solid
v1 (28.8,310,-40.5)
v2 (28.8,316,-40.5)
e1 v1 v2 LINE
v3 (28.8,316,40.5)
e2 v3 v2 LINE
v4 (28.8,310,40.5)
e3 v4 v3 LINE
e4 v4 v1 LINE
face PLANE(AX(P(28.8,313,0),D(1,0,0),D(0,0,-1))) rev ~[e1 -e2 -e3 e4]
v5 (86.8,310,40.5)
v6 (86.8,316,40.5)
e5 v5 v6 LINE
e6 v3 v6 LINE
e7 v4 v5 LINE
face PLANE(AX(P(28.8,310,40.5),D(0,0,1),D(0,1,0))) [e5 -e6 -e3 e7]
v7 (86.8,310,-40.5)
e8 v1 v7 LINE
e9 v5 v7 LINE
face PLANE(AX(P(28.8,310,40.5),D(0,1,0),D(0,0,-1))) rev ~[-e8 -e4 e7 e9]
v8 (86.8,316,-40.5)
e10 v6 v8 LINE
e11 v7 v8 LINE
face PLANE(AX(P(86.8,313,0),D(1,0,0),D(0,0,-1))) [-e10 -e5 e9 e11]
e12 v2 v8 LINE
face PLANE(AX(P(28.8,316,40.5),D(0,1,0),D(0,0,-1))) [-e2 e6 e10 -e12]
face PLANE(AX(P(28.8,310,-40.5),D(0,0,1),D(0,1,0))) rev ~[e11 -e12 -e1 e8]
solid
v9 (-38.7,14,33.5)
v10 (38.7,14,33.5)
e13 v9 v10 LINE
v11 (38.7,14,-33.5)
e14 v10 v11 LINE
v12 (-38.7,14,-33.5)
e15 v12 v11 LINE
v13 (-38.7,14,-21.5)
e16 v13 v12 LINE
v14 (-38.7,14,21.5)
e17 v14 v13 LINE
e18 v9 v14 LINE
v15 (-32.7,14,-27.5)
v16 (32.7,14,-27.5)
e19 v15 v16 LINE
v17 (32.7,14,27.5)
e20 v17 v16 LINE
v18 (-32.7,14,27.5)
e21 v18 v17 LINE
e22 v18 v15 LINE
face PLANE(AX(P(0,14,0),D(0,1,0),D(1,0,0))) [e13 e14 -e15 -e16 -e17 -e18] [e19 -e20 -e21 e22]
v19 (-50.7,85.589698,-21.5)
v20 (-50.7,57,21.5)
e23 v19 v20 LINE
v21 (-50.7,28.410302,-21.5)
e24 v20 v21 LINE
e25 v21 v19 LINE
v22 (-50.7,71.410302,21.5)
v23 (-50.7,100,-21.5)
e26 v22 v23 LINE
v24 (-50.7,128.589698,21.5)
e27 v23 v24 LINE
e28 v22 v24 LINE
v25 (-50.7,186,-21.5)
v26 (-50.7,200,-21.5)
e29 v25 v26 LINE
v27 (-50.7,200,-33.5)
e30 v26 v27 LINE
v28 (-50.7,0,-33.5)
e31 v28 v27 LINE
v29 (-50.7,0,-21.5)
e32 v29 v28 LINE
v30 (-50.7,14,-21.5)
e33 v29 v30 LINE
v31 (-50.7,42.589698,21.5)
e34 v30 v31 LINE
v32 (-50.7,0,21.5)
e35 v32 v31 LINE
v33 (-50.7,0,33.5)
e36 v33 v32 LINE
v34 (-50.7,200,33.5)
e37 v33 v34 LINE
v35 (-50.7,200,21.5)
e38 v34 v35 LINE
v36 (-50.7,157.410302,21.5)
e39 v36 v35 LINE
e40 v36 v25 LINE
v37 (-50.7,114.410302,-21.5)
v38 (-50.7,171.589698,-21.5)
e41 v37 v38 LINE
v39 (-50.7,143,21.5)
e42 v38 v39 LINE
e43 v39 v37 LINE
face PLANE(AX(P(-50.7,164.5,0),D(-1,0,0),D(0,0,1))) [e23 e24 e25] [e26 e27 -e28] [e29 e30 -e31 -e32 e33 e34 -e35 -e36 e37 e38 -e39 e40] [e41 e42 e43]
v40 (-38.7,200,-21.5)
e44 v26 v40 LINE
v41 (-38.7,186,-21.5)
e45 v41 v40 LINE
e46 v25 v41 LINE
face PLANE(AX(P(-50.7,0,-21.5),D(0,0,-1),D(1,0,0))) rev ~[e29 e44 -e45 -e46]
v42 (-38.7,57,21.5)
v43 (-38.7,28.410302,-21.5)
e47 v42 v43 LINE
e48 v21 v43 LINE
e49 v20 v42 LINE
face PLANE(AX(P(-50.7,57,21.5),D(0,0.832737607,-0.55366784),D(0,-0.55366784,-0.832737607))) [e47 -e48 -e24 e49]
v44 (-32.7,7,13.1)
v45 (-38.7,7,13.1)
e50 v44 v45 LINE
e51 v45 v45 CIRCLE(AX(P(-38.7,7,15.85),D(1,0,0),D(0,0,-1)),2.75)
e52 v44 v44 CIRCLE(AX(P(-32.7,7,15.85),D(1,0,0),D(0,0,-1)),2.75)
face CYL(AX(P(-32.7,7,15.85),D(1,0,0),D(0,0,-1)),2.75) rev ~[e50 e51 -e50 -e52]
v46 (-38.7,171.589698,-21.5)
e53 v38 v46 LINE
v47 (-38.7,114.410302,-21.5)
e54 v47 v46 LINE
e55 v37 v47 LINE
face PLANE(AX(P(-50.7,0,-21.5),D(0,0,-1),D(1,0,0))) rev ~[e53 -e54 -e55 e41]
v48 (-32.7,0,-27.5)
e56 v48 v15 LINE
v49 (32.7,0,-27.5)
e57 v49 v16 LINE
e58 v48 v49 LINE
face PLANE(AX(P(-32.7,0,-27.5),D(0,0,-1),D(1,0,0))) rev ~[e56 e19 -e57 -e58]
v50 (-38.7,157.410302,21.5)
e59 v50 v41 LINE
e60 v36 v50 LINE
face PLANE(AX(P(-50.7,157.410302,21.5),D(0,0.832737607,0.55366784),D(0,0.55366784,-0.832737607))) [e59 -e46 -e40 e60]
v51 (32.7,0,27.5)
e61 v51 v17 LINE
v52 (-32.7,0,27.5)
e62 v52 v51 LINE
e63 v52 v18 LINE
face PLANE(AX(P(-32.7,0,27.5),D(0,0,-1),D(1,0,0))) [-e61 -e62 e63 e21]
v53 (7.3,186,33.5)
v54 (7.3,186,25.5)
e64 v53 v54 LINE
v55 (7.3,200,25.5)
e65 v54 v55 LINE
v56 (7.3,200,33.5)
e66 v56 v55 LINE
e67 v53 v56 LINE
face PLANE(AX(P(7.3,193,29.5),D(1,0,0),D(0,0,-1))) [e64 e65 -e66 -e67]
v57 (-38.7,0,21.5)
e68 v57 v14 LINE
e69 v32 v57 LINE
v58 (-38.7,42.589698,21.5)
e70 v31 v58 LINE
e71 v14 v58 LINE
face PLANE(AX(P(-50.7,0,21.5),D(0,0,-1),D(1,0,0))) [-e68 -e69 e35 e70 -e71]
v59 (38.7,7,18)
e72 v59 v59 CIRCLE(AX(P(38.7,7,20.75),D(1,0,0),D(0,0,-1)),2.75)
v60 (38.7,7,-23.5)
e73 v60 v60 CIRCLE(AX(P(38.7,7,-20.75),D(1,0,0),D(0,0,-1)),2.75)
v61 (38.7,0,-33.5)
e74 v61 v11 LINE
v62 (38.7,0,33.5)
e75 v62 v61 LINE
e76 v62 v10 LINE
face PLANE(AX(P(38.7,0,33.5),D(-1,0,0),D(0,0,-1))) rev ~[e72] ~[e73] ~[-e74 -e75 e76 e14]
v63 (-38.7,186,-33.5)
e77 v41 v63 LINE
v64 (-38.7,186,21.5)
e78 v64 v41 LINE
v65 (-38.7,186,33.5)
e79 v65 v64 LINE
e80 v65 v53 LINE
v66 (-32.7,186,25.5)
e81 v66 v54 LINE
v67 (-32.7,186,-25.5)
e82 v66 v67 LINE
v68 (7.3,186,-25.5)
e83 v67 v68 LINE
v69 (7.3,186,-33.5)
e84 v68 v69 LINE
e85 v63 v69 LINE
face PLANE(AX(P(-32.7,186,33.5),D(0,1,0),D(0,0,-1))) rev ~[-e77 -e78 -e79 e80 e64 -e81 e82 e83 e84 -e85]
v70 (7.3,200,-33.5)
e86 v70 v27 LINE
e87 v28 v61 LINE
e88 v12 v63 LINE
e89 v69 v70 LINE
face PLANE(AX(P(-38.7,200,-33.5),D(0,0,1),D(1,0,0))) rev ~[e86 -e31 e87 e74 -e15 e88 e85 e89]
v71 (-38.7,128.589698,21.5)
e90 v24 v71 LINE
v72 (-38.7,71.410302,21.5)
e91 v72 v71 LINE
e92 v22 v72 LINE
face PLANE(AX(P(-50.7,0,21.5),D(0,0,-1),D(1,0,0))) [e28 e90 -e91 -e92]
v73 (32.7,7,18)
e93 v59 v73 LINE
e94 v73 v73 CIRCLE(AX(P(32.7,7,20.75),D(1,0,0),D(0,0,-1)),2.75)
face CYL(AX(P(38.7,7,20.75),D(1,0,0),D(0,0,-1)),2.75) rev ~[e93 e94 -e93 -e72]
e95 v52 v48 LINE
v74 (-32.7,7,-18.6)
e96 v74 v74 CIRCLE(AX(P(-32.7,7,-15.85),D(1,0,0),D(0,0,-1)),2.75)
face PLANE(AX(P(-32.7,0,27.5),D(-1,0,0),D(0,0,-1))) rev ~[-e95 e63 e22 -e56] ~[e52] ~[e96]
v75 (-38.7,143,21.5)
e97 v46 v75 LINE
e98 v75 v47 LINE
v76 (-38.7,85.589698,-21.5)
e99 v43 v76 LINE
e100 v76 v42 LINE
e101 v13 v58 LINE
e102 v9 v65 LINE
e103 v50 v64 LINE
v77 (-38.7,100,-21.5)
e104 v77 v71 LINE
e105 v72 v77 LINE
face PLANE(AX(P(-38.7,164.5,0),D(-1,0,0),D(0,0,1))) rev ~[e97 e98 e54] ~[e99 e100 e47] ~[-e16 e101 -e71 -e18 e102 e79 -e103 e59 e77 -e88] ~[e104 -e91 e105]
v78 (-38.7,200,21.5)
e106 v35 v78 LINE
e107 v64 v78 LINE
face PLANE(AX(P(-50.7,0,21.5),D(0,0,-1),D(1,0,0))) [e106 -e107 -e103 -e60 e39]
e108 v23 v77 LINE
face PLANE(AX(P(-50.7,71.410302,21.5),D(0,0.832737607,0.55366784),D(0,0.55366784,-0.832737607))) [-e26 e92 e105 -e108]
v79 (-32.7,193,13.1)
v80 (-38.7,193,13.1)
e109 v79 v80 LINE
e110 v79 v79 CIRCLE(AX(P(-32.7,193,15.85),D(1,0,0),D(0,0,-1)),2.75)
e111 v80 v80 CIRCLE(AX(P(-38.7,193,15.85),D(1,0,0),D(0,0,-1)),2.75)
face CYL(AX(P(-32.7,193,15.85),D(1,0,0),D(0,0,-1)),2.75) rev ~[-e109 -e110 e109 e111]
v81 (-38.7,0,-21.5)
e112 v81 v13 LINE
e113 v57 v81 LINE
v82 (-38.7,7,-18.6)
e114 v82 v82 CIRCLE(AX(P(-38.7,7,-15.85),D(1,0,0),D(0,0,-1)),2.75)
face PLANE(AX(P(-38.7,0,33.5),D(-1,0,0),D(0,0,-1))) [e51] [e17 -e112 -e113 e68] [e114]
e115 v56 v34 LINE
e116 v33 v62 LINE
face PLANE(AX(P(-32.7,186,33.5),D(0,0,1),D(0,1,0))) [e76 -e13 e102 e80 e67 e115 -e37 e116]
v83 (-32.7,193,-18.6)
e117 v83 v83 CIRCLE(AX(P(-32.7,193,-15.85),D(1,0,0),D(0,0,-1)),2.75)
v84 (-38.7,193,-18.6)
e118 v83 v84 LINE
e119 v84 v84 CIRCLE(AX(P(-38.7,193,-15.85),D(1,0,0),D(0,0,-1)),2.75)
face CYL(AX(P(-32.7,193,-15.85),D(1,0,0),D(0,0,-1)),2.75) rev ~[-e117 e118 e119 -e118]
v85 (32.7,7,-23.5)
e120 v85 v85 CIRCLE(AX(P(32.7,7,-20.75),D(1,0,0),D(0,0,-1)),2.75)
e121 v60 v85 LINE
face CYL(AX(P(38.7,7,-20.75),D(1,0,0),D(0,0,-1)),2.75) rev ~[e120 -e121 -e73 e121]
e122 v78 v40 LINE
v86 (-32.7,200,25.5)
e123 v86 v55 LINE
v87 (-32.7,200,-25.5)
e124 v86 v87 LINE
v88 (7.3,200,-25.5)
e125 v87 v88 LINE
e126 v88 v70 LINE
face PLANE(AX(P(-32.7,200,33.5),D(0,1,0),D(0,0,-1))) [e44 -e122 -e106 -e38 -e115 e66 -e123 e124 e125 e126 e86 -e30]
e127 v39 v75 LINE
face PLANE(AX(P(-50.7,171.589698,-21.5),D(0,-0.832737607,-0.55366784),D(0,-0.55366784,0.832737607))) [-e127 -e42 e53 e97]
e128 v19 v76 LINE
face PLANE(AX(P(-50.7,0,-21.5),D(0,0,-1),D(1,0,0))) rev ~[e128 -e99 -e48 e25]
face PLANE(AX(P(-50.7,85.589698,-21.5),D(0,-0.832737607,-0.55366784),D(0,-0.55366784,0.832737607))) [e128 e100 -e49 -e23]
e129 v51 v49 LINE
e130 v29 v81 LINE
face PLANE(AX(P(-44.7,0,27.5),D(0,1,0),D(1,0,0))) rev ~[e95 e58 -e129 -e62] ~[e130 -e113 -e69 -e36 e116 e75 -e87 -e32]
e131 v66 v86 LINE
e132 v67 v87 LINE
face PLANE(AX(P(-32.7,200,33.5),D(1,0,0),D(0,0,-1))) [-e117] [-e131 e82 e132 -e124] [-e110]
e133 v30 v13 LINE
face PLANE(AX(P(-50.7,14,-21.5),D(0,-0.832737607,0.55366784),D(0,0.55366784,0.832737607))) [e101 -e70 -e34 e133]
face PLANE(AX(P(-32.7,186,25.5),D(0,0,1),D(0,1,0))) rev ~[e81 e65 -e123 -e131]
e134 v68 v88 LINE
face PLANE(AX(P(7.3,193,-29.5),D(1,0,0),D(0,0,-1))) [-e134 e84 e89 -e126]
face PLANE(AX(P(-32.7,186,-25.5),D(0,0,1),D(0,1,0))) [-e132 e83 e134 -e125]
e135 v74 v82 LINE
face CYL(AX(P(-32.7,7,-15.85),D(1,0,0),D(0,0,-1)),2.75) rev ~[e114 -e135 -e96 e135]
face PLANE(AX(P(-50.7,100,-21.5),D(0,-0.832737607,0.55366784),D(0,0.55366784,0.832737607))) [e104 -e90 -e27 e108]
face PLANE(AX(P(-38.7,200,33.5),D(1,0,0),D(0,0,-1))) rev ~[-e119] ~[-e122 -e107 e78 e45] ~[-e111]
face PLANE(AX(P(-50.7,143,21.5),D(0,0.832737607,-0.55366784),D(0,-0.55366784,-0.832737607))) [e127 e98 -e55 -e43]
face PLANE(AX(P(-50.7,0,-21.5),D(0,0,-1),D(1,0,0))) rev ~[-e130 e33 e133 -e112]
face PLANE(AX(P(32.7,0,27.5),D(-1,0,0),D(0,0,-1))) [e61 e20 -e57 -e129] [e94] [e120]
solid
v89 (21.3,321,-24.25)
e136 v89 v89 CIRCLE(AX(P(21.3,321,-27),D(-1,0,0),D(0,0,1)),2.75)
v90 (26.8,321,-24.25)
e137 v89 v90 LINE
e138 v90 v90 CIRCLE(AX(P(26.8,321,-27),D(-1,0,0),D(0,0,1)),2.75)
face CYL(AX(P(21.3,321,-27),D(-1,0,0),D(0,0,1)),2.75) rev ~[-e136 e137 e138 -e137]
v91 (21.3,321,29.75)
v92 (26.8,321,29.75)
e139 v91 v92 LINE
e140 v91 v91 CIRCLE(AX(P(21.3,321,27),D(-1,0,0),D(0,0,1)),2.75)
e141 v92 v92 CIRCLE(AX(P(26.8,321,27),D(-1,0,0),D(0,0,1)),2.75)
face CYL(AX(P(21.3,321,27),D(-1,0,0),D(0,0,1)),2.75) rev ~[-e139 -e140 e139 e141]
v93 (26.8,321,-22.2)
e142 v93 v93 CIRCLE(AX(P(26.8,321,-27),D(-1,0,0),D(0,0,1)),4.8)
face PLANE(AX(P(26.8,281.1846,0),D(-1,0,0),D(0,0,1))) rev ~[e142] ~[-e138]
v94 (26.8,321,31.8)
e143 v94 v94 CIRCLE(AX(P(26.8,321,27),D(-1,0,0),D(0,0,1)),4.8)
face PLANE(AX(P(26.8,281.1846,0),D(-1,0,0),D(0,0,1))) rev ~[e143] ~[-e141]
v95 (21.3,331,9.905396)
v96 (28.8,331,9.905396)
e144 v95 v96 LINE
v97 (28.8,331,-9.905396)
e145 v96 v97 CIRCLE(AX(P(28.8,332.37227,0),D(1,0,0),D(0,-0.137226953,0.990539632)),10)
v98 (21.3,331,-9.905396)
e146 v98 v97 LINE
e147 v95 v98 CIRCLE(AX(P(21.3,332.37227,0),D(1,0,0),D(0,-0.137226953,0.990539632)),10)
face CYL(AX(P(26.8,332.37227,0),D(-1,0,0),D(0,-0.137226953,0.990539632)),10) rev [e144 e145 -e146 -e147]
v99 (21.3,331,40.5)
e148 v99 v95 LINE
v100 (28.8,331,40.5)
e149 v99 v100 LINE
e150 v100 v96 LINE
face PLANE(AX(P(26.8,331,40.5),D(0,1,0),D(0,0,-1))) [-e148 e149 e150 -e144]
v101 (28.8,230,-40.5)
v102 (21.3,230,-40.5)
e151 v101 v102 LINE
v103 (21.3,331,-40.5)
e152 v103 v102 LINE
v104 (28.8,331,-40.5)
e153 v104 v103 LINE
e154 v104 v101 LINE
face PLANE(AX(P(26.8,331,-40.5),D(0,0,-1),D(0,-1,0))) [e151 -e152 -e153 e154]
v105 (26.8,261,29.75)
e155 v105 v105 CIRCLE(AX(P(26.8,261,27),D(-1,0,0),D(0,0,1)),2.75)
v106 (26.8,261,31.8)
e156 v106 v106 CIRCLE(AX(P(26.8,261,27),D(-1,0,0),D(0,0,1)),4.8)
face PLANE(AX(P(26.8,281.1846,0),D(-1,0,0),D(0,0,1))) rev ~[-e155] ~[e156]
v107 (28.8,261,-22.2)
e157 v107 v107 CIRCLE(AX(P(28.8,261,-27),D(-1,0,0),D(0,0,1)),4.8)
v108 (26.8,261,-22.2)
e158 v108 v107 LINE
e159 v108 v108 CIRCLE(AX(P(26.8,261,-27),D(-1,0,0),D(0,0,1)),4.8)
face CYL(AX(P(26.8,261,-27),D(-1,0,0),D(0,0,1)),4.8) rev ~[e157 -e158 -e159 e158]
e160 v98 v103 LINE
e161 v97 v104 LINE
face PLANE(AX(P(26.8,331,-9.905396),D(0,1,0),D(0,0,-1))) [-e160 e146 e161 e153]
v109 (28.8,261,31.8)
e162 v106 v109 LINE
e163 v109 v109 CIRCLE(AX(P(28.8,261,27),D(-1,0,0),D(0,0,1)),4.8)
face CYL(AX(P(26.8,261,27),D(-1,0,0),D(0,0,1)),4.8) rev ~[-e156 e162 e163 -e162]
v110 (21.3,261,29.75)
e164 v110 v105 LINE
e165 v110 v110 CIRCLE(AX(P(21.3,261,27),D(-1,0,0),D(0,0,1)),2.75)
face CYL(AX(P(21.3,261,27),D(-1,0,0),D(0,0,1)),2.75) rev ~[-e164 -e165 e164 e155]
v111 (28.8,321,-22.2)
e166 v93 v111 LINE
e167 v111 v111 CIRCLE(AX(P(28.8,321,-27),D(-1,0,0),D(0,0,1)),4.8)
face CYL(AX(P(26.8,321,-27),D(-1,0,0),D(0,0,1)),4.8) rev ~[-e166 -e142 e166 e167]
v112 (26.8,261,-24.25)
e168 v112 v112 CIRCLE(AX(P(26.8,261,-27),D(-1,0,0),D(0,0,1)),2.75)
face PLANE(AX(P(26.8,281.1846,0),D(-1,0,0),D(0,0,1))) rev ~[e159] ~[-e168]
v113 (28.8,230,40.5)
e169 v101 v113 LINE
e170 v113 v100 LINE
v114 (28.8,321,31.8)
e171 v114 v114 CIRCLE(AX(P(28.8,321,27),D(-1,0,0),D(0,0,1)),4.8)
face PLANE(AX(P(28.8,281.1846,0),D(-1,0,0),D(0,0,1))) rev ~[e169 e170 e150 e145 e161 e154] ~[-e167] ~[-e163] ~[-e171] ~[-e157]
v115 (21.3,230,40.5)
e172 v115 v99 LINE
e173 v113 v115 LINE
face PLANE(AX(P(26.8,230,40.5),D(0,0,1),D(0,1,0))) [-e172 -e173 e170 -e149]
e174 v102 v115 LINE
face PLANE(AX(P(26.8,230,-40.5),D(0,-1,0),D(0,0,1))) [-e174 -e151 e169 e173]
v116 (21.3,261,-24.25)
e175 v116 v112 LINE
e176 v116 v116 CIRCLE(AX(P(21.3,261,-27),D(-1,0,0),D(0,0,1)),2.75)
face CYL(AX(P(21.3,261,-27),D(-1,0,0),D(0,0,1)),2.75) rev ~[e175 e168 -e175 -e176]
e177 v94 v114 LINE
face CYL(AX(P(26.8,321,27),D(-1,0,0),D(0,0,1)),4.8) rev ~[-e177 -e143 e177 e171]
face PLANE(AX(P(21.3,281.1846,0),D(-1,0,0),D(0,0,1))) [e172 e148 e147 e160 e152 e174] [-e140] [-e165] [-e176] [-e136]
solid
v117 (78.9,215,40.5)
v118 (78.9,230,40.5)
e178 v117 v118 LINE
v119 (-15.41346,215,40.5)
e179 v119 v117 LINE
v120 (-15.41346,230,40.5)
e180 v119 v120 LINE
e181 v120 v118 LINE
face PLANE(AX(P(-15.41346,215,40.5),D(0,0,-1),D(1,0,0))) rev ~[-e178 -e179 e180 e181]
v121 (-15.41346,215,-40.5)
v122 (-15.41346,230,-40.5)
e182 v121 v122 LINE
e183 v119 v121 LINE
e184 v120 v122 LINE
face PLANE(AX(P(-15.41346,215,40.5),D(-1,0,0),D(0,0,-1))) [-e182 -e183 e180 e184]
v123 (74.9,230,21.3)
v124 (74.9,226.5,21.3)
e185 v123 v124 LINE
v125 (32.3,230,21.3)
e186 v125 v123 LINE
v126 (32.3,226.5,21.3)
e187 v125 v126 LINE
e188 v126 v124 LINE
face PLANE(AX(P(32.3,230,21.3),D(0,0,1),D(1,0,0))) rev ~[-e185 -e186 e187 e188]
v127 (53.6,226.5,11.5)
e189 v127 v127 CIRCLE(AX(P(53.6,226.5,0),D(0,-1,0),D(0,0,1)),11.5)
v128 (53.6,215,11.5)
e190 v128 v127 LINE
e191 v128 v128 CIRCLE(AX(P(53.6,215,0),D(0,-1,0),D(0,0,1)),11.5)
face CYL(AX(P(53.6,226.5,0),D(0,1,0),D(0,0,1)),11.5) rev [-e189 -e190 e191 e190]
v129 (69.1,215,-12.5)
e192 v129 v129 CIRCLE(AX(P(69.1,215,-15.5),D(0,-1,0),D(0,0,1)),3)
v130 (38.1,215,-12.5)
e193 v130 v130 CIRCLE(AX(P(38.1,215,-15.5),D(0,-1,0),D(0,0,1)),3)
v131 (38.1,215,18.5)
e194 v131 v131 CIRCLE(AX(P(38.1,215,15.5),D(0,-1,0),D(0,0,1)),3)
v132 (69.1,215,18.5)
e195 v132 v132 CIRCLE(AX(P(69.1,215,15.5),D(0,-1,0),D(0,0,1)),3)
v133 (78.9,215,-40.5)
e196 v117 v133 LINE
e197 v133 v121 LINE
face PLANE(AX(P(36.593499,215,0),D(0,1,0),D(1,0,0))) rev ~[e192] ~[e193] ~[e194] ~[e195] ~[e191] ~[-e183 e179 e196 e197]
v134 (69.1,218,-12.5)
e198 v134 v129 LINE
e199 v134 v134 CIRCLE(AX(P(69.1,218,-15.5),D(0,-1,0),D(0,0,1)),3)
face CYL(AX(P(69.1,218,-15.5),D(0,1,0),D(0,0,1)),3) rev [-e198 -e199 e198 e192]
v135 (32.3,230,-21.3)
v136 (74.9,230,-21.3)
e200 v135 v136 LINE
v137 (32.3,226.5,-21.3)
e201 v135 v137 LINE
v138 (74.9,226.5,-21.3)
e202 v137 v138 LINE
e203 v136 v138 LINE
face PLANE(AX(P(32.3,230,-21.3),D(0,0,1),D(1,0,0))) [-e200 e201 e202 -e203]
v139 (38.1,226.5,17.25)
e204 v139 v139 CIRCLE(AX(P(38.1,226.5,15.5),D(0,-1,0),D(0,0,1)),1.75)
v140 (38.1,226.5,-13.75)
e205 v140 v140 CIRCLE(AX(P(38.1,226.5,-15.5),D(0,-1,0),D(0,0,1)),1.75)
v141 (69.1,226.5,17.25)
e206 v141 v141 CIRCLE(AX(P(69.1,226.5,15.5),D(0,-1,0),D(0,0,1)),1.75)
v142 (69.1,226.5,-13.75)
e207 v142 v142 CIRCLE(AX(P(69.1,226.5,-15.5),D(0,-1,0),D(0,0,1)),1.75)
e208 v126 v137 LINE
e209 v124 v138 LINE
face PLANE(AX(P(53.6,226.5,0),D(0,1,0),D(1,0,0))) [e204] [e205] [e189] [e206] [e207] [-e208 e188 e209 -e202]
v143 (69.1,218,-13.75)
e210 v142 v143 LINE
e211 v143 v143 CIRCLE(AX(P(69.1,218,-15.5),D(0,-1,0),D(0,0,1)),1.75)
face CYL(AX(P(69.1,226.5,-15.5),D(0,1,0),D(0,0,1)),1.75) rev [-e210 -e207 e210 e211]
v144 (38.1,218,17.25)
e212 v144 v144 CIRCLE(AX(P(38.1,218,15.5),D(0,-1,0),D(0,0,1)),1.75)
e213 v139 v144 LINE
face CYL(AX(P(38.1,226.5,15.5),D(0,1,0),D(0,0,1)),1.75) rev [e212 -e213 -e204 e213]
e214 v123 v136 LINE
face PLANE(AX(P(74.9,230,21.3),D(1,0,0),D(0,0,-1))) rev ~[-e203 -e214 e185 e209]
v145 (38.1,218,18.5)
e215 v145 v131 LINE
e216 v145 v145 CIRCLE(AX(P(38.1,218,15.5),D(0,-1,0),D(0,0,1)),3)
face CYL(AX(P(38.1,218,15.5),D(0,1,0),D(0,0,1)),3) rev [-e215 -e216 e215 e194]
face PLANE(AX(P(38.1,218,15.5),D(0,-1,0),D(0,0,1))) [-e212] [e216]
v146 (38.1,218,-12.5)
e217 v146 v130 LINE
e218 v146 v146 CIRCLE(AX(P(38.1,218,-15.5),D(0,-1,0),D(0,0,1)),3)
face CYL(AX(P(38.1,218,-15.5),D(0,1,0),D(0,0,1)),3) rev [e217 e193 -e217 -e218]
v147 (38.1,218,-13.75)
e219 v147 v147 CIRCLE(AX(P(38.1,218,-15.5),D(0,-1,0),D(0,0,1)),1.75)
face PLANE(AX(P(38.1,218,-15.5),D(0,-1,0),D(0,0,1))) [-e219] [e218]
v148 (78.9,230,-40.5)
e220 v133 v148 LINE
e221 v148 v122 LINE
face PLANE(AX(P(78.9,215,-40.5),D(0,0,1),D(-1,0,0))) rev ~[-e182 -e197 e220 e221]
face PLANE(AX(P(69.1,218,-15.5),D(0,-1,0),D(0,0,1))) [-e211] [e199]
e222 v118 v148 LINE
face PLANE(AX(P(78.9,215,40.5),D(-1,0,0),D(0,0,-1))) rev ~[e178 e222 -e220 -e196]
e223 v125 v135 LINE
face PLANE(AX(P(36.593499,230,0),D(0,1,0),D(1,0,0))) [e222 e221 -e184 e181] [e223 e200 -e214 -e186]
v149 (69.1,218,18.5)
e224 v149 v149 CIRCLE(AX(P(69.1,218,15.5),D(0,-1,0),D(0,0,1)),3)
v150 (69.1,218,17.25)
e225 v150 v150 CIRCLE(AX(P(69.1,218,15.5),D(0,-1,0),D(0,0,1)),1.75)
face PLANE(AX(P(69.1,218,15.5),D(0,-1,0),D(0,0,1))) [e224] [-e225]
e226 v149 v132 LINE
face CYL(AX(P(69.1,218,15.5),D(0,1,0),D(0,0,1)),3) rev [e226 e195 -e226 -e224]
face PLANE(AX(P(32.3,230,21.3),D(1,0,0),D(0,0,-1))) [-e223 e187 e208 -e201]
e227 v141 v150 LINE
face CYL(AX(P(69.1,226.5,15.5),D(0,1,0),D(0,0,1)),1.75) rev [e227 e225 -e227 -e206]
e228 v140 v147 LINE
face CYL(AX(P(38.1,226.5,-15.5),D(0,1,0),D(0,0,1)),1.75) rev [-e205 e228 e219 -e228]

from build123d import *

# Parameters (mm, degrees)
SKETCH1_W            = 77.4
SKETCH1_H            = 67
SKETCH1_W_2          = 65.4
SKETCH1_H_2          = 55
BOSS_EXTRUDE1_DEPTH  = 14
SKETCH4_W            = 12
SKETCH4_H            = 12
BOSS_EXTRUDE2_DEPTH  = 200
SKETCH5_W            = 6
SKETCH5_H            = 67
BOSS_EXTRUDE3_DEPTH  = 14
BOSS_EXTRUDE4_DEPTH  = 12
SKETCH2_R            = 2.75
CUT_EXTRUDE1_DEPTH   = 6
SKETCH3_R            = 2.75
CUT_EXTRUDE2_DEPTH   = 6
SKETCH7_R            = 2.75
CUT_EXTRUDE3_DEPTH   = 223.441902527
SKETCH8_W            = 8
SKETCH8_H            = 14
BOSS_EXTRUDE5_DEPTH  = 40
SKETCH9_W            = 84.613001647
SKETCH9_H            = 81
SKETCH9_W_2          = 22.713460293
BOSS_EXTRUDE6_DEPTH  = 15
SKETCH10_W           = 42.6
SKETCH10_H           = 42.6
CUT_EXTRUDE4_DEPTH   = 3.5
SKETCH11_R           = 1.75
SKETCH11_R_2         = 11.5
CUT_EXTRUDE5_DEPTH   = 11.5
CUT_EXTRUDE6_START   = 8.5
SKETCH11_5_R         = 3
SKETCH11_5_R_2       = 1.75
SKETCH11_5_R_3       = 11.5
CUT_EXTRUDE6_DEPTH   = 3
SKETCH13_R           = 2.75
BOSS_EXTRUDE7_DEPTH  = 5.5
BOSS_EXTRUDE10_START = -5.5
SKETCH13_3_R         = 4.8
BOSS_EXTRUDE10_DEPTH = 2
SKETCH15_W           = 81
SKETCH15_H           = 6
BOSS_EXTRUDE9_DEPTH  = 58


with BuildPart() as part:
    # Sketch1 → Boss-Extrude1 (new body)
    with BuildSketch(Plane(origin=(0, 0, 0), x_dir=(1, 0, 0), z_dir=(0, 1, 0))):
        Rectangle(SKETCH1_W, SKETCH1_H)
        Rectangle(SKETCH1_W_2, SKETCH1_H_2, mode=Mode.SUBTRACT)
    extrude(amount=BOSS_EXTRUDE1_DEPTH)

    # Sketch4 → Boss-Extrude2 (add)
    with BuildSketch(Plane(origin=(0, 0, 0), x_dir=(1, 0, 0), z_dir=(0, 1, 0))):
        with Locations((-44.7, -27.5)):
            Rectangle(SKETCH4_W, SKETCH4_H)
        with Locations((-44.7, 27.5)):
            Rectangle(SKETCH4_W, SKETCH4_H)
    extrude(amount=BOSS_EXTRUDE2_DEPTH)

    # Sketch5 → Boss-Extrude3 (add)
    with BuildSketch(Plane(origin=(0, 200, 0), x_dir=(1, 0, 0), z_dir=(0, 1, 0))):
        with Locations((-35.7, 0)):
            Rectangle(SKETCH5_W, SKETCH5_H)
    extrude(amount=-BOSS_EXTRUDE3_DEPTH)

    # Sketch6 → Boss-Extrude4 (add)
    with BuildSketch(Plane.ZY.offset(50.7)):
        Polygon((21.5, 157.410301507), (-21.5, 186), (-21.5, 171.589698493), (21.5, 143), align=None)
        Polygon((21.5, 128.589698493), (21.5, 143), (-21.5, 114.410301507), (-21.5, 100), align=None)
        Polygon((21.5, 71.410301507), (-21.5, 100), (-21.5, 85.589698493), (21.5, 57), align=None)
        Polygon((21.5, 42.589698493), (21.5, 57), (-21.5, 28.410301507), (-21.5, 14), align=None)
    extrude(amount=-BOSS_EXTRUDE4_DEPTH)

    # Sketch2 → Cut-Extrude1 (cut)
    with BuildSketch(Plane(origin=(38.7, 0, 0), x_dir=(0, 0, -1), z_dir=(1, 0, 0))):
        with Locations((-20.75, 7)):
            Circle(SKETCH2_R)
        with Locations((20.75, 7)):
            Circle(SKETCH2_R)
    extrude(amount=-CUT_EXTRUDE1_DEPTH, mode=Mode.SUBTRACT)

    # Sketch3 → Cut-Extrude2 (cut)
    with BuildSketch(Plane(origin=(-32.7, 0, 0), x_dir=(0, 0, -1), z_dir=(1, 0, 0))):
        with Locations((15.85, 7)):
            Circle(SKETCH3_R)
        with Locations((-15.85, 7)):
            Circle(SKETCH3_R)
    extrude(amount=-CUT_EXTRUDE2_DEPTH, mode=Mode.SUBTRACT)

    # Sketch7 → Cut-Extrude3 (cut, through all)
    with BuildSketch(Plane(origin=(-32.7, 0, -32.7), x_dir=(0, 0, -1), z_dir=(1, 0, 0))):
        with Locations((-16.85, 193)):
            Circle(SKETCH7_R)
        with Locations((-48.55, 193)):
            Circle(SKETCH7_R)
    extrude(amount=-CUT_EXTRUDE3_DEPTH, mode=Mode.SUBTRACT)

    # Sketch8 → Boss-Extrude5 (add)
    with BuildSketch(Plane(origin=(-32.7, 0, 0), x_dir=(0, 0, -1), z_dir=(1, 0, 0))):
        with Locations((-29.5, 193)):
            Rectangle(SKETCH8_W, SKETCH8_H)
        with Locations((29.5, 193)):
            Rectangle(SKETCH8_W, SKETCH8_H)
    extrude(amount=BOSS_EXTRUDE5_DEPTH)


with BuildPart() as body_2:
    # Sketch9 → Boss-Extrude6 (new body)
    with BuildSketch(Plane(origin=(0, 215, 0), x_dir=(1, 0, 0), z_dir=(0, 1, 0))):
        with Locations((36.593499177, 0)):
            Rectangle(SKETCH9_W, SKETCH9_H)
        with Locations((-4.056730147, 0)):
            Rectangle(SKETCH9_W_2, SKETCH9_H)
    extrude(amount=BOSS_EXTRUDE6_DEPTH)

    # Sketch10 → Cut-Extrude4 (cut)
    with BuildSketch(Plane(origin=(0, 230, 0), x_dir=(1, 0, 0), z_dir=(0, 1, 0))):
        with Locations((53.6, 0)):
            Rectangle(SKETCH10_W, SKETCH10_H)
    extrude(amount=-CUT_EXTRUDE4_DEPTH, mode=Mode.SUBTRACT)

    # Sketch11 → Cut-Extrude5 (cut)
    with BuildSketch(Plane(origin=(0, 226.5, -221.5), x_dir=(1, 0, 0), z_dir=(0, -1, 0))):
        with Locations(Location((69.1, 237, 0), (0, 0, 90))):
            Circle(SKETCH11_R)
        with Locations(Location((38.1, 237, 0), (0, 0, 90))):
            Circle(SKETCH11_R)
        with Locations(Location((38.1, 206, 0), (0, 0, 90))):
            Circle(SKETCH11_R)
        with Locations(Location((69.1, 206, 0), (0, 0, 90))):
            Circle(SKETCH11_R)
        with Locations(Location((53.6, 221.5, 0), (0, 0, 90))):
            Circle(SKETCH11_R_2)
    extrude(amount=CUT_EXTRUDE5_DEPTH, mode=Mode.SUBTRACT)

    # Sketch11<5> → Cut-Extrude6 (cut)
    with BuildSketch(Plane(origin=(0, 226.5, -221.5), x_dir=(1, 0, 0), z_dir=(0, -1, 0)).offset(CUT_EXTRUDE6_START)):
        with Locations(Location((38.1, 237, 0), (0, 0, 90))):
            Circle(SKETCH11_5_R)
        with Locations(Location((38.1, 237, 0), (0, 0, 90))):
            Circle(SKETCH11_5_R_2, mode=Mode.SUBTRACT)
        with Locations(Location((69.1, 237, 0), (0, 0, 90))):
            Circle(SKETCH11_5_R)
        with Locations(Location((69.1, 237, 0), (0, 0, 90))):
            Circle(SKETCH11_5_R_2, mode=Mode.SUBTRACT)
        with Locations(Location((69.1, 206, 0), (0, 0, 90))):
            Circle(SKETCH11_5_R)
        with Locations(Location((69.1, 206, 0), (0, 0, 90))):
            Circle(SKETCH11_5_R_2, mode=Mode.SUBTRACT)
        with Locations(Location((38.1, 206, 0), (0, 0, 90))):
            Circle(SKETCH11_5_R)
        with Locations(Location((38.1, 206, 0), (0, 0, 90))):
            Circle(SKETCH11_5_R_2, mode=Mode.SUBTRACT)
        with Locations(Location((53.6, 221.5, 0), (0, 0, 90))):
            Circle(SKETCH11_5_R_3)
    extrude(amount=CUT_EXTRUDE6_DEPTH, mode=Mode.SUBTRACT)


with BuildPart() as body_3:
    # Sketch13 → Boss-Extrude7 (new body)
    with BuildSketch(Plane.ZY.offset(-21.3)):
        with BuildLine():
            Line((-9.905396324, 331), (-40.5, 331))
            Line((-40.5, 331), (-40.5, 230))
            Line((-40.5, 230), (40.5, 230))
            Line((40.5, 230), (40.5, 331))
            Line((40.5, 331), (9.905396324, 331))
            ThreePointArc((9.905396324, 331), (0, 322.372269531), (-9.905396324, 331))
        make_face()
        with Locations((-27, 261)):
            Circle(SKETCH13_R, mode=Mode.SUBTRACT)
        with Locations((27, 321)):
            Circle(SKETCH13_R, mode=Mode.SUBTRACT)
        with Locations((27, 261)):
            Circle(SKETCH13_R, mode=Mode.SUBTRACT)
        with Locations((-27, 321)):
            Circle(SKETCH13_R, mode=Mode.SUBTRACT)
    extrude(amount=-BOSS_EXTRUDE7_DEPTH)

    # Sketch13<3> → Boss-Extrude10 (add)
    with BuildSketch(Plane.ZY.offset(-21.3).offset(BOSS_EXTRUDE10_START)):
        with BuildLine():
            Line((-9.905396324, 331), (-40.5, 331))
            Line((-40.5, 331), (-40.5, 230))
            Line((-40.5, 230), (40.5, 230))
            Line((40.5, 230), (40.5, 331))
            Line((40.5, 331), (9.905396324, 331))
            ThreePointArc((9.905396324, 331), (0, 322.372269531), (-9.905396324, 331))
        make_face()
        with Locations((-27, 261)):
            Circle(SKETCH13_3_R, mode=Mode.SUBTRACT)
        with Locations((27, 261)):
            Circle(SKETCH13_3_R, mode=Mode.SUBTRACT)
        with Locations((-27, 321)):
            Circle(SKETCH13_3_R, mode=Mode.SUBTRACT)
        with Locations((27, 321)):
            Circle(SKETCH13_3_R, mode=Mode.SUBTRACT)
    extrude(amount=-BOSS_EXTRUDE10_DEPTH)


with BuildPart() as body_4:
    # Sketch15 → Boss-Extrude9 (new body)
    with BuildSketch(Plane(origin=(28.8, 0, 0), x_dir=(0, 0, -1), z_dir=(1, 0, 0))):
        with Locations((0, 313)):
            Rectangle(SKETCH15_W, SKETCH15_H)
    extrude(amount=BOSS_EXTRUDE9_DEPTH)


solid = Compound([part.part, body_2.part, body_3.part, body_4.part])
